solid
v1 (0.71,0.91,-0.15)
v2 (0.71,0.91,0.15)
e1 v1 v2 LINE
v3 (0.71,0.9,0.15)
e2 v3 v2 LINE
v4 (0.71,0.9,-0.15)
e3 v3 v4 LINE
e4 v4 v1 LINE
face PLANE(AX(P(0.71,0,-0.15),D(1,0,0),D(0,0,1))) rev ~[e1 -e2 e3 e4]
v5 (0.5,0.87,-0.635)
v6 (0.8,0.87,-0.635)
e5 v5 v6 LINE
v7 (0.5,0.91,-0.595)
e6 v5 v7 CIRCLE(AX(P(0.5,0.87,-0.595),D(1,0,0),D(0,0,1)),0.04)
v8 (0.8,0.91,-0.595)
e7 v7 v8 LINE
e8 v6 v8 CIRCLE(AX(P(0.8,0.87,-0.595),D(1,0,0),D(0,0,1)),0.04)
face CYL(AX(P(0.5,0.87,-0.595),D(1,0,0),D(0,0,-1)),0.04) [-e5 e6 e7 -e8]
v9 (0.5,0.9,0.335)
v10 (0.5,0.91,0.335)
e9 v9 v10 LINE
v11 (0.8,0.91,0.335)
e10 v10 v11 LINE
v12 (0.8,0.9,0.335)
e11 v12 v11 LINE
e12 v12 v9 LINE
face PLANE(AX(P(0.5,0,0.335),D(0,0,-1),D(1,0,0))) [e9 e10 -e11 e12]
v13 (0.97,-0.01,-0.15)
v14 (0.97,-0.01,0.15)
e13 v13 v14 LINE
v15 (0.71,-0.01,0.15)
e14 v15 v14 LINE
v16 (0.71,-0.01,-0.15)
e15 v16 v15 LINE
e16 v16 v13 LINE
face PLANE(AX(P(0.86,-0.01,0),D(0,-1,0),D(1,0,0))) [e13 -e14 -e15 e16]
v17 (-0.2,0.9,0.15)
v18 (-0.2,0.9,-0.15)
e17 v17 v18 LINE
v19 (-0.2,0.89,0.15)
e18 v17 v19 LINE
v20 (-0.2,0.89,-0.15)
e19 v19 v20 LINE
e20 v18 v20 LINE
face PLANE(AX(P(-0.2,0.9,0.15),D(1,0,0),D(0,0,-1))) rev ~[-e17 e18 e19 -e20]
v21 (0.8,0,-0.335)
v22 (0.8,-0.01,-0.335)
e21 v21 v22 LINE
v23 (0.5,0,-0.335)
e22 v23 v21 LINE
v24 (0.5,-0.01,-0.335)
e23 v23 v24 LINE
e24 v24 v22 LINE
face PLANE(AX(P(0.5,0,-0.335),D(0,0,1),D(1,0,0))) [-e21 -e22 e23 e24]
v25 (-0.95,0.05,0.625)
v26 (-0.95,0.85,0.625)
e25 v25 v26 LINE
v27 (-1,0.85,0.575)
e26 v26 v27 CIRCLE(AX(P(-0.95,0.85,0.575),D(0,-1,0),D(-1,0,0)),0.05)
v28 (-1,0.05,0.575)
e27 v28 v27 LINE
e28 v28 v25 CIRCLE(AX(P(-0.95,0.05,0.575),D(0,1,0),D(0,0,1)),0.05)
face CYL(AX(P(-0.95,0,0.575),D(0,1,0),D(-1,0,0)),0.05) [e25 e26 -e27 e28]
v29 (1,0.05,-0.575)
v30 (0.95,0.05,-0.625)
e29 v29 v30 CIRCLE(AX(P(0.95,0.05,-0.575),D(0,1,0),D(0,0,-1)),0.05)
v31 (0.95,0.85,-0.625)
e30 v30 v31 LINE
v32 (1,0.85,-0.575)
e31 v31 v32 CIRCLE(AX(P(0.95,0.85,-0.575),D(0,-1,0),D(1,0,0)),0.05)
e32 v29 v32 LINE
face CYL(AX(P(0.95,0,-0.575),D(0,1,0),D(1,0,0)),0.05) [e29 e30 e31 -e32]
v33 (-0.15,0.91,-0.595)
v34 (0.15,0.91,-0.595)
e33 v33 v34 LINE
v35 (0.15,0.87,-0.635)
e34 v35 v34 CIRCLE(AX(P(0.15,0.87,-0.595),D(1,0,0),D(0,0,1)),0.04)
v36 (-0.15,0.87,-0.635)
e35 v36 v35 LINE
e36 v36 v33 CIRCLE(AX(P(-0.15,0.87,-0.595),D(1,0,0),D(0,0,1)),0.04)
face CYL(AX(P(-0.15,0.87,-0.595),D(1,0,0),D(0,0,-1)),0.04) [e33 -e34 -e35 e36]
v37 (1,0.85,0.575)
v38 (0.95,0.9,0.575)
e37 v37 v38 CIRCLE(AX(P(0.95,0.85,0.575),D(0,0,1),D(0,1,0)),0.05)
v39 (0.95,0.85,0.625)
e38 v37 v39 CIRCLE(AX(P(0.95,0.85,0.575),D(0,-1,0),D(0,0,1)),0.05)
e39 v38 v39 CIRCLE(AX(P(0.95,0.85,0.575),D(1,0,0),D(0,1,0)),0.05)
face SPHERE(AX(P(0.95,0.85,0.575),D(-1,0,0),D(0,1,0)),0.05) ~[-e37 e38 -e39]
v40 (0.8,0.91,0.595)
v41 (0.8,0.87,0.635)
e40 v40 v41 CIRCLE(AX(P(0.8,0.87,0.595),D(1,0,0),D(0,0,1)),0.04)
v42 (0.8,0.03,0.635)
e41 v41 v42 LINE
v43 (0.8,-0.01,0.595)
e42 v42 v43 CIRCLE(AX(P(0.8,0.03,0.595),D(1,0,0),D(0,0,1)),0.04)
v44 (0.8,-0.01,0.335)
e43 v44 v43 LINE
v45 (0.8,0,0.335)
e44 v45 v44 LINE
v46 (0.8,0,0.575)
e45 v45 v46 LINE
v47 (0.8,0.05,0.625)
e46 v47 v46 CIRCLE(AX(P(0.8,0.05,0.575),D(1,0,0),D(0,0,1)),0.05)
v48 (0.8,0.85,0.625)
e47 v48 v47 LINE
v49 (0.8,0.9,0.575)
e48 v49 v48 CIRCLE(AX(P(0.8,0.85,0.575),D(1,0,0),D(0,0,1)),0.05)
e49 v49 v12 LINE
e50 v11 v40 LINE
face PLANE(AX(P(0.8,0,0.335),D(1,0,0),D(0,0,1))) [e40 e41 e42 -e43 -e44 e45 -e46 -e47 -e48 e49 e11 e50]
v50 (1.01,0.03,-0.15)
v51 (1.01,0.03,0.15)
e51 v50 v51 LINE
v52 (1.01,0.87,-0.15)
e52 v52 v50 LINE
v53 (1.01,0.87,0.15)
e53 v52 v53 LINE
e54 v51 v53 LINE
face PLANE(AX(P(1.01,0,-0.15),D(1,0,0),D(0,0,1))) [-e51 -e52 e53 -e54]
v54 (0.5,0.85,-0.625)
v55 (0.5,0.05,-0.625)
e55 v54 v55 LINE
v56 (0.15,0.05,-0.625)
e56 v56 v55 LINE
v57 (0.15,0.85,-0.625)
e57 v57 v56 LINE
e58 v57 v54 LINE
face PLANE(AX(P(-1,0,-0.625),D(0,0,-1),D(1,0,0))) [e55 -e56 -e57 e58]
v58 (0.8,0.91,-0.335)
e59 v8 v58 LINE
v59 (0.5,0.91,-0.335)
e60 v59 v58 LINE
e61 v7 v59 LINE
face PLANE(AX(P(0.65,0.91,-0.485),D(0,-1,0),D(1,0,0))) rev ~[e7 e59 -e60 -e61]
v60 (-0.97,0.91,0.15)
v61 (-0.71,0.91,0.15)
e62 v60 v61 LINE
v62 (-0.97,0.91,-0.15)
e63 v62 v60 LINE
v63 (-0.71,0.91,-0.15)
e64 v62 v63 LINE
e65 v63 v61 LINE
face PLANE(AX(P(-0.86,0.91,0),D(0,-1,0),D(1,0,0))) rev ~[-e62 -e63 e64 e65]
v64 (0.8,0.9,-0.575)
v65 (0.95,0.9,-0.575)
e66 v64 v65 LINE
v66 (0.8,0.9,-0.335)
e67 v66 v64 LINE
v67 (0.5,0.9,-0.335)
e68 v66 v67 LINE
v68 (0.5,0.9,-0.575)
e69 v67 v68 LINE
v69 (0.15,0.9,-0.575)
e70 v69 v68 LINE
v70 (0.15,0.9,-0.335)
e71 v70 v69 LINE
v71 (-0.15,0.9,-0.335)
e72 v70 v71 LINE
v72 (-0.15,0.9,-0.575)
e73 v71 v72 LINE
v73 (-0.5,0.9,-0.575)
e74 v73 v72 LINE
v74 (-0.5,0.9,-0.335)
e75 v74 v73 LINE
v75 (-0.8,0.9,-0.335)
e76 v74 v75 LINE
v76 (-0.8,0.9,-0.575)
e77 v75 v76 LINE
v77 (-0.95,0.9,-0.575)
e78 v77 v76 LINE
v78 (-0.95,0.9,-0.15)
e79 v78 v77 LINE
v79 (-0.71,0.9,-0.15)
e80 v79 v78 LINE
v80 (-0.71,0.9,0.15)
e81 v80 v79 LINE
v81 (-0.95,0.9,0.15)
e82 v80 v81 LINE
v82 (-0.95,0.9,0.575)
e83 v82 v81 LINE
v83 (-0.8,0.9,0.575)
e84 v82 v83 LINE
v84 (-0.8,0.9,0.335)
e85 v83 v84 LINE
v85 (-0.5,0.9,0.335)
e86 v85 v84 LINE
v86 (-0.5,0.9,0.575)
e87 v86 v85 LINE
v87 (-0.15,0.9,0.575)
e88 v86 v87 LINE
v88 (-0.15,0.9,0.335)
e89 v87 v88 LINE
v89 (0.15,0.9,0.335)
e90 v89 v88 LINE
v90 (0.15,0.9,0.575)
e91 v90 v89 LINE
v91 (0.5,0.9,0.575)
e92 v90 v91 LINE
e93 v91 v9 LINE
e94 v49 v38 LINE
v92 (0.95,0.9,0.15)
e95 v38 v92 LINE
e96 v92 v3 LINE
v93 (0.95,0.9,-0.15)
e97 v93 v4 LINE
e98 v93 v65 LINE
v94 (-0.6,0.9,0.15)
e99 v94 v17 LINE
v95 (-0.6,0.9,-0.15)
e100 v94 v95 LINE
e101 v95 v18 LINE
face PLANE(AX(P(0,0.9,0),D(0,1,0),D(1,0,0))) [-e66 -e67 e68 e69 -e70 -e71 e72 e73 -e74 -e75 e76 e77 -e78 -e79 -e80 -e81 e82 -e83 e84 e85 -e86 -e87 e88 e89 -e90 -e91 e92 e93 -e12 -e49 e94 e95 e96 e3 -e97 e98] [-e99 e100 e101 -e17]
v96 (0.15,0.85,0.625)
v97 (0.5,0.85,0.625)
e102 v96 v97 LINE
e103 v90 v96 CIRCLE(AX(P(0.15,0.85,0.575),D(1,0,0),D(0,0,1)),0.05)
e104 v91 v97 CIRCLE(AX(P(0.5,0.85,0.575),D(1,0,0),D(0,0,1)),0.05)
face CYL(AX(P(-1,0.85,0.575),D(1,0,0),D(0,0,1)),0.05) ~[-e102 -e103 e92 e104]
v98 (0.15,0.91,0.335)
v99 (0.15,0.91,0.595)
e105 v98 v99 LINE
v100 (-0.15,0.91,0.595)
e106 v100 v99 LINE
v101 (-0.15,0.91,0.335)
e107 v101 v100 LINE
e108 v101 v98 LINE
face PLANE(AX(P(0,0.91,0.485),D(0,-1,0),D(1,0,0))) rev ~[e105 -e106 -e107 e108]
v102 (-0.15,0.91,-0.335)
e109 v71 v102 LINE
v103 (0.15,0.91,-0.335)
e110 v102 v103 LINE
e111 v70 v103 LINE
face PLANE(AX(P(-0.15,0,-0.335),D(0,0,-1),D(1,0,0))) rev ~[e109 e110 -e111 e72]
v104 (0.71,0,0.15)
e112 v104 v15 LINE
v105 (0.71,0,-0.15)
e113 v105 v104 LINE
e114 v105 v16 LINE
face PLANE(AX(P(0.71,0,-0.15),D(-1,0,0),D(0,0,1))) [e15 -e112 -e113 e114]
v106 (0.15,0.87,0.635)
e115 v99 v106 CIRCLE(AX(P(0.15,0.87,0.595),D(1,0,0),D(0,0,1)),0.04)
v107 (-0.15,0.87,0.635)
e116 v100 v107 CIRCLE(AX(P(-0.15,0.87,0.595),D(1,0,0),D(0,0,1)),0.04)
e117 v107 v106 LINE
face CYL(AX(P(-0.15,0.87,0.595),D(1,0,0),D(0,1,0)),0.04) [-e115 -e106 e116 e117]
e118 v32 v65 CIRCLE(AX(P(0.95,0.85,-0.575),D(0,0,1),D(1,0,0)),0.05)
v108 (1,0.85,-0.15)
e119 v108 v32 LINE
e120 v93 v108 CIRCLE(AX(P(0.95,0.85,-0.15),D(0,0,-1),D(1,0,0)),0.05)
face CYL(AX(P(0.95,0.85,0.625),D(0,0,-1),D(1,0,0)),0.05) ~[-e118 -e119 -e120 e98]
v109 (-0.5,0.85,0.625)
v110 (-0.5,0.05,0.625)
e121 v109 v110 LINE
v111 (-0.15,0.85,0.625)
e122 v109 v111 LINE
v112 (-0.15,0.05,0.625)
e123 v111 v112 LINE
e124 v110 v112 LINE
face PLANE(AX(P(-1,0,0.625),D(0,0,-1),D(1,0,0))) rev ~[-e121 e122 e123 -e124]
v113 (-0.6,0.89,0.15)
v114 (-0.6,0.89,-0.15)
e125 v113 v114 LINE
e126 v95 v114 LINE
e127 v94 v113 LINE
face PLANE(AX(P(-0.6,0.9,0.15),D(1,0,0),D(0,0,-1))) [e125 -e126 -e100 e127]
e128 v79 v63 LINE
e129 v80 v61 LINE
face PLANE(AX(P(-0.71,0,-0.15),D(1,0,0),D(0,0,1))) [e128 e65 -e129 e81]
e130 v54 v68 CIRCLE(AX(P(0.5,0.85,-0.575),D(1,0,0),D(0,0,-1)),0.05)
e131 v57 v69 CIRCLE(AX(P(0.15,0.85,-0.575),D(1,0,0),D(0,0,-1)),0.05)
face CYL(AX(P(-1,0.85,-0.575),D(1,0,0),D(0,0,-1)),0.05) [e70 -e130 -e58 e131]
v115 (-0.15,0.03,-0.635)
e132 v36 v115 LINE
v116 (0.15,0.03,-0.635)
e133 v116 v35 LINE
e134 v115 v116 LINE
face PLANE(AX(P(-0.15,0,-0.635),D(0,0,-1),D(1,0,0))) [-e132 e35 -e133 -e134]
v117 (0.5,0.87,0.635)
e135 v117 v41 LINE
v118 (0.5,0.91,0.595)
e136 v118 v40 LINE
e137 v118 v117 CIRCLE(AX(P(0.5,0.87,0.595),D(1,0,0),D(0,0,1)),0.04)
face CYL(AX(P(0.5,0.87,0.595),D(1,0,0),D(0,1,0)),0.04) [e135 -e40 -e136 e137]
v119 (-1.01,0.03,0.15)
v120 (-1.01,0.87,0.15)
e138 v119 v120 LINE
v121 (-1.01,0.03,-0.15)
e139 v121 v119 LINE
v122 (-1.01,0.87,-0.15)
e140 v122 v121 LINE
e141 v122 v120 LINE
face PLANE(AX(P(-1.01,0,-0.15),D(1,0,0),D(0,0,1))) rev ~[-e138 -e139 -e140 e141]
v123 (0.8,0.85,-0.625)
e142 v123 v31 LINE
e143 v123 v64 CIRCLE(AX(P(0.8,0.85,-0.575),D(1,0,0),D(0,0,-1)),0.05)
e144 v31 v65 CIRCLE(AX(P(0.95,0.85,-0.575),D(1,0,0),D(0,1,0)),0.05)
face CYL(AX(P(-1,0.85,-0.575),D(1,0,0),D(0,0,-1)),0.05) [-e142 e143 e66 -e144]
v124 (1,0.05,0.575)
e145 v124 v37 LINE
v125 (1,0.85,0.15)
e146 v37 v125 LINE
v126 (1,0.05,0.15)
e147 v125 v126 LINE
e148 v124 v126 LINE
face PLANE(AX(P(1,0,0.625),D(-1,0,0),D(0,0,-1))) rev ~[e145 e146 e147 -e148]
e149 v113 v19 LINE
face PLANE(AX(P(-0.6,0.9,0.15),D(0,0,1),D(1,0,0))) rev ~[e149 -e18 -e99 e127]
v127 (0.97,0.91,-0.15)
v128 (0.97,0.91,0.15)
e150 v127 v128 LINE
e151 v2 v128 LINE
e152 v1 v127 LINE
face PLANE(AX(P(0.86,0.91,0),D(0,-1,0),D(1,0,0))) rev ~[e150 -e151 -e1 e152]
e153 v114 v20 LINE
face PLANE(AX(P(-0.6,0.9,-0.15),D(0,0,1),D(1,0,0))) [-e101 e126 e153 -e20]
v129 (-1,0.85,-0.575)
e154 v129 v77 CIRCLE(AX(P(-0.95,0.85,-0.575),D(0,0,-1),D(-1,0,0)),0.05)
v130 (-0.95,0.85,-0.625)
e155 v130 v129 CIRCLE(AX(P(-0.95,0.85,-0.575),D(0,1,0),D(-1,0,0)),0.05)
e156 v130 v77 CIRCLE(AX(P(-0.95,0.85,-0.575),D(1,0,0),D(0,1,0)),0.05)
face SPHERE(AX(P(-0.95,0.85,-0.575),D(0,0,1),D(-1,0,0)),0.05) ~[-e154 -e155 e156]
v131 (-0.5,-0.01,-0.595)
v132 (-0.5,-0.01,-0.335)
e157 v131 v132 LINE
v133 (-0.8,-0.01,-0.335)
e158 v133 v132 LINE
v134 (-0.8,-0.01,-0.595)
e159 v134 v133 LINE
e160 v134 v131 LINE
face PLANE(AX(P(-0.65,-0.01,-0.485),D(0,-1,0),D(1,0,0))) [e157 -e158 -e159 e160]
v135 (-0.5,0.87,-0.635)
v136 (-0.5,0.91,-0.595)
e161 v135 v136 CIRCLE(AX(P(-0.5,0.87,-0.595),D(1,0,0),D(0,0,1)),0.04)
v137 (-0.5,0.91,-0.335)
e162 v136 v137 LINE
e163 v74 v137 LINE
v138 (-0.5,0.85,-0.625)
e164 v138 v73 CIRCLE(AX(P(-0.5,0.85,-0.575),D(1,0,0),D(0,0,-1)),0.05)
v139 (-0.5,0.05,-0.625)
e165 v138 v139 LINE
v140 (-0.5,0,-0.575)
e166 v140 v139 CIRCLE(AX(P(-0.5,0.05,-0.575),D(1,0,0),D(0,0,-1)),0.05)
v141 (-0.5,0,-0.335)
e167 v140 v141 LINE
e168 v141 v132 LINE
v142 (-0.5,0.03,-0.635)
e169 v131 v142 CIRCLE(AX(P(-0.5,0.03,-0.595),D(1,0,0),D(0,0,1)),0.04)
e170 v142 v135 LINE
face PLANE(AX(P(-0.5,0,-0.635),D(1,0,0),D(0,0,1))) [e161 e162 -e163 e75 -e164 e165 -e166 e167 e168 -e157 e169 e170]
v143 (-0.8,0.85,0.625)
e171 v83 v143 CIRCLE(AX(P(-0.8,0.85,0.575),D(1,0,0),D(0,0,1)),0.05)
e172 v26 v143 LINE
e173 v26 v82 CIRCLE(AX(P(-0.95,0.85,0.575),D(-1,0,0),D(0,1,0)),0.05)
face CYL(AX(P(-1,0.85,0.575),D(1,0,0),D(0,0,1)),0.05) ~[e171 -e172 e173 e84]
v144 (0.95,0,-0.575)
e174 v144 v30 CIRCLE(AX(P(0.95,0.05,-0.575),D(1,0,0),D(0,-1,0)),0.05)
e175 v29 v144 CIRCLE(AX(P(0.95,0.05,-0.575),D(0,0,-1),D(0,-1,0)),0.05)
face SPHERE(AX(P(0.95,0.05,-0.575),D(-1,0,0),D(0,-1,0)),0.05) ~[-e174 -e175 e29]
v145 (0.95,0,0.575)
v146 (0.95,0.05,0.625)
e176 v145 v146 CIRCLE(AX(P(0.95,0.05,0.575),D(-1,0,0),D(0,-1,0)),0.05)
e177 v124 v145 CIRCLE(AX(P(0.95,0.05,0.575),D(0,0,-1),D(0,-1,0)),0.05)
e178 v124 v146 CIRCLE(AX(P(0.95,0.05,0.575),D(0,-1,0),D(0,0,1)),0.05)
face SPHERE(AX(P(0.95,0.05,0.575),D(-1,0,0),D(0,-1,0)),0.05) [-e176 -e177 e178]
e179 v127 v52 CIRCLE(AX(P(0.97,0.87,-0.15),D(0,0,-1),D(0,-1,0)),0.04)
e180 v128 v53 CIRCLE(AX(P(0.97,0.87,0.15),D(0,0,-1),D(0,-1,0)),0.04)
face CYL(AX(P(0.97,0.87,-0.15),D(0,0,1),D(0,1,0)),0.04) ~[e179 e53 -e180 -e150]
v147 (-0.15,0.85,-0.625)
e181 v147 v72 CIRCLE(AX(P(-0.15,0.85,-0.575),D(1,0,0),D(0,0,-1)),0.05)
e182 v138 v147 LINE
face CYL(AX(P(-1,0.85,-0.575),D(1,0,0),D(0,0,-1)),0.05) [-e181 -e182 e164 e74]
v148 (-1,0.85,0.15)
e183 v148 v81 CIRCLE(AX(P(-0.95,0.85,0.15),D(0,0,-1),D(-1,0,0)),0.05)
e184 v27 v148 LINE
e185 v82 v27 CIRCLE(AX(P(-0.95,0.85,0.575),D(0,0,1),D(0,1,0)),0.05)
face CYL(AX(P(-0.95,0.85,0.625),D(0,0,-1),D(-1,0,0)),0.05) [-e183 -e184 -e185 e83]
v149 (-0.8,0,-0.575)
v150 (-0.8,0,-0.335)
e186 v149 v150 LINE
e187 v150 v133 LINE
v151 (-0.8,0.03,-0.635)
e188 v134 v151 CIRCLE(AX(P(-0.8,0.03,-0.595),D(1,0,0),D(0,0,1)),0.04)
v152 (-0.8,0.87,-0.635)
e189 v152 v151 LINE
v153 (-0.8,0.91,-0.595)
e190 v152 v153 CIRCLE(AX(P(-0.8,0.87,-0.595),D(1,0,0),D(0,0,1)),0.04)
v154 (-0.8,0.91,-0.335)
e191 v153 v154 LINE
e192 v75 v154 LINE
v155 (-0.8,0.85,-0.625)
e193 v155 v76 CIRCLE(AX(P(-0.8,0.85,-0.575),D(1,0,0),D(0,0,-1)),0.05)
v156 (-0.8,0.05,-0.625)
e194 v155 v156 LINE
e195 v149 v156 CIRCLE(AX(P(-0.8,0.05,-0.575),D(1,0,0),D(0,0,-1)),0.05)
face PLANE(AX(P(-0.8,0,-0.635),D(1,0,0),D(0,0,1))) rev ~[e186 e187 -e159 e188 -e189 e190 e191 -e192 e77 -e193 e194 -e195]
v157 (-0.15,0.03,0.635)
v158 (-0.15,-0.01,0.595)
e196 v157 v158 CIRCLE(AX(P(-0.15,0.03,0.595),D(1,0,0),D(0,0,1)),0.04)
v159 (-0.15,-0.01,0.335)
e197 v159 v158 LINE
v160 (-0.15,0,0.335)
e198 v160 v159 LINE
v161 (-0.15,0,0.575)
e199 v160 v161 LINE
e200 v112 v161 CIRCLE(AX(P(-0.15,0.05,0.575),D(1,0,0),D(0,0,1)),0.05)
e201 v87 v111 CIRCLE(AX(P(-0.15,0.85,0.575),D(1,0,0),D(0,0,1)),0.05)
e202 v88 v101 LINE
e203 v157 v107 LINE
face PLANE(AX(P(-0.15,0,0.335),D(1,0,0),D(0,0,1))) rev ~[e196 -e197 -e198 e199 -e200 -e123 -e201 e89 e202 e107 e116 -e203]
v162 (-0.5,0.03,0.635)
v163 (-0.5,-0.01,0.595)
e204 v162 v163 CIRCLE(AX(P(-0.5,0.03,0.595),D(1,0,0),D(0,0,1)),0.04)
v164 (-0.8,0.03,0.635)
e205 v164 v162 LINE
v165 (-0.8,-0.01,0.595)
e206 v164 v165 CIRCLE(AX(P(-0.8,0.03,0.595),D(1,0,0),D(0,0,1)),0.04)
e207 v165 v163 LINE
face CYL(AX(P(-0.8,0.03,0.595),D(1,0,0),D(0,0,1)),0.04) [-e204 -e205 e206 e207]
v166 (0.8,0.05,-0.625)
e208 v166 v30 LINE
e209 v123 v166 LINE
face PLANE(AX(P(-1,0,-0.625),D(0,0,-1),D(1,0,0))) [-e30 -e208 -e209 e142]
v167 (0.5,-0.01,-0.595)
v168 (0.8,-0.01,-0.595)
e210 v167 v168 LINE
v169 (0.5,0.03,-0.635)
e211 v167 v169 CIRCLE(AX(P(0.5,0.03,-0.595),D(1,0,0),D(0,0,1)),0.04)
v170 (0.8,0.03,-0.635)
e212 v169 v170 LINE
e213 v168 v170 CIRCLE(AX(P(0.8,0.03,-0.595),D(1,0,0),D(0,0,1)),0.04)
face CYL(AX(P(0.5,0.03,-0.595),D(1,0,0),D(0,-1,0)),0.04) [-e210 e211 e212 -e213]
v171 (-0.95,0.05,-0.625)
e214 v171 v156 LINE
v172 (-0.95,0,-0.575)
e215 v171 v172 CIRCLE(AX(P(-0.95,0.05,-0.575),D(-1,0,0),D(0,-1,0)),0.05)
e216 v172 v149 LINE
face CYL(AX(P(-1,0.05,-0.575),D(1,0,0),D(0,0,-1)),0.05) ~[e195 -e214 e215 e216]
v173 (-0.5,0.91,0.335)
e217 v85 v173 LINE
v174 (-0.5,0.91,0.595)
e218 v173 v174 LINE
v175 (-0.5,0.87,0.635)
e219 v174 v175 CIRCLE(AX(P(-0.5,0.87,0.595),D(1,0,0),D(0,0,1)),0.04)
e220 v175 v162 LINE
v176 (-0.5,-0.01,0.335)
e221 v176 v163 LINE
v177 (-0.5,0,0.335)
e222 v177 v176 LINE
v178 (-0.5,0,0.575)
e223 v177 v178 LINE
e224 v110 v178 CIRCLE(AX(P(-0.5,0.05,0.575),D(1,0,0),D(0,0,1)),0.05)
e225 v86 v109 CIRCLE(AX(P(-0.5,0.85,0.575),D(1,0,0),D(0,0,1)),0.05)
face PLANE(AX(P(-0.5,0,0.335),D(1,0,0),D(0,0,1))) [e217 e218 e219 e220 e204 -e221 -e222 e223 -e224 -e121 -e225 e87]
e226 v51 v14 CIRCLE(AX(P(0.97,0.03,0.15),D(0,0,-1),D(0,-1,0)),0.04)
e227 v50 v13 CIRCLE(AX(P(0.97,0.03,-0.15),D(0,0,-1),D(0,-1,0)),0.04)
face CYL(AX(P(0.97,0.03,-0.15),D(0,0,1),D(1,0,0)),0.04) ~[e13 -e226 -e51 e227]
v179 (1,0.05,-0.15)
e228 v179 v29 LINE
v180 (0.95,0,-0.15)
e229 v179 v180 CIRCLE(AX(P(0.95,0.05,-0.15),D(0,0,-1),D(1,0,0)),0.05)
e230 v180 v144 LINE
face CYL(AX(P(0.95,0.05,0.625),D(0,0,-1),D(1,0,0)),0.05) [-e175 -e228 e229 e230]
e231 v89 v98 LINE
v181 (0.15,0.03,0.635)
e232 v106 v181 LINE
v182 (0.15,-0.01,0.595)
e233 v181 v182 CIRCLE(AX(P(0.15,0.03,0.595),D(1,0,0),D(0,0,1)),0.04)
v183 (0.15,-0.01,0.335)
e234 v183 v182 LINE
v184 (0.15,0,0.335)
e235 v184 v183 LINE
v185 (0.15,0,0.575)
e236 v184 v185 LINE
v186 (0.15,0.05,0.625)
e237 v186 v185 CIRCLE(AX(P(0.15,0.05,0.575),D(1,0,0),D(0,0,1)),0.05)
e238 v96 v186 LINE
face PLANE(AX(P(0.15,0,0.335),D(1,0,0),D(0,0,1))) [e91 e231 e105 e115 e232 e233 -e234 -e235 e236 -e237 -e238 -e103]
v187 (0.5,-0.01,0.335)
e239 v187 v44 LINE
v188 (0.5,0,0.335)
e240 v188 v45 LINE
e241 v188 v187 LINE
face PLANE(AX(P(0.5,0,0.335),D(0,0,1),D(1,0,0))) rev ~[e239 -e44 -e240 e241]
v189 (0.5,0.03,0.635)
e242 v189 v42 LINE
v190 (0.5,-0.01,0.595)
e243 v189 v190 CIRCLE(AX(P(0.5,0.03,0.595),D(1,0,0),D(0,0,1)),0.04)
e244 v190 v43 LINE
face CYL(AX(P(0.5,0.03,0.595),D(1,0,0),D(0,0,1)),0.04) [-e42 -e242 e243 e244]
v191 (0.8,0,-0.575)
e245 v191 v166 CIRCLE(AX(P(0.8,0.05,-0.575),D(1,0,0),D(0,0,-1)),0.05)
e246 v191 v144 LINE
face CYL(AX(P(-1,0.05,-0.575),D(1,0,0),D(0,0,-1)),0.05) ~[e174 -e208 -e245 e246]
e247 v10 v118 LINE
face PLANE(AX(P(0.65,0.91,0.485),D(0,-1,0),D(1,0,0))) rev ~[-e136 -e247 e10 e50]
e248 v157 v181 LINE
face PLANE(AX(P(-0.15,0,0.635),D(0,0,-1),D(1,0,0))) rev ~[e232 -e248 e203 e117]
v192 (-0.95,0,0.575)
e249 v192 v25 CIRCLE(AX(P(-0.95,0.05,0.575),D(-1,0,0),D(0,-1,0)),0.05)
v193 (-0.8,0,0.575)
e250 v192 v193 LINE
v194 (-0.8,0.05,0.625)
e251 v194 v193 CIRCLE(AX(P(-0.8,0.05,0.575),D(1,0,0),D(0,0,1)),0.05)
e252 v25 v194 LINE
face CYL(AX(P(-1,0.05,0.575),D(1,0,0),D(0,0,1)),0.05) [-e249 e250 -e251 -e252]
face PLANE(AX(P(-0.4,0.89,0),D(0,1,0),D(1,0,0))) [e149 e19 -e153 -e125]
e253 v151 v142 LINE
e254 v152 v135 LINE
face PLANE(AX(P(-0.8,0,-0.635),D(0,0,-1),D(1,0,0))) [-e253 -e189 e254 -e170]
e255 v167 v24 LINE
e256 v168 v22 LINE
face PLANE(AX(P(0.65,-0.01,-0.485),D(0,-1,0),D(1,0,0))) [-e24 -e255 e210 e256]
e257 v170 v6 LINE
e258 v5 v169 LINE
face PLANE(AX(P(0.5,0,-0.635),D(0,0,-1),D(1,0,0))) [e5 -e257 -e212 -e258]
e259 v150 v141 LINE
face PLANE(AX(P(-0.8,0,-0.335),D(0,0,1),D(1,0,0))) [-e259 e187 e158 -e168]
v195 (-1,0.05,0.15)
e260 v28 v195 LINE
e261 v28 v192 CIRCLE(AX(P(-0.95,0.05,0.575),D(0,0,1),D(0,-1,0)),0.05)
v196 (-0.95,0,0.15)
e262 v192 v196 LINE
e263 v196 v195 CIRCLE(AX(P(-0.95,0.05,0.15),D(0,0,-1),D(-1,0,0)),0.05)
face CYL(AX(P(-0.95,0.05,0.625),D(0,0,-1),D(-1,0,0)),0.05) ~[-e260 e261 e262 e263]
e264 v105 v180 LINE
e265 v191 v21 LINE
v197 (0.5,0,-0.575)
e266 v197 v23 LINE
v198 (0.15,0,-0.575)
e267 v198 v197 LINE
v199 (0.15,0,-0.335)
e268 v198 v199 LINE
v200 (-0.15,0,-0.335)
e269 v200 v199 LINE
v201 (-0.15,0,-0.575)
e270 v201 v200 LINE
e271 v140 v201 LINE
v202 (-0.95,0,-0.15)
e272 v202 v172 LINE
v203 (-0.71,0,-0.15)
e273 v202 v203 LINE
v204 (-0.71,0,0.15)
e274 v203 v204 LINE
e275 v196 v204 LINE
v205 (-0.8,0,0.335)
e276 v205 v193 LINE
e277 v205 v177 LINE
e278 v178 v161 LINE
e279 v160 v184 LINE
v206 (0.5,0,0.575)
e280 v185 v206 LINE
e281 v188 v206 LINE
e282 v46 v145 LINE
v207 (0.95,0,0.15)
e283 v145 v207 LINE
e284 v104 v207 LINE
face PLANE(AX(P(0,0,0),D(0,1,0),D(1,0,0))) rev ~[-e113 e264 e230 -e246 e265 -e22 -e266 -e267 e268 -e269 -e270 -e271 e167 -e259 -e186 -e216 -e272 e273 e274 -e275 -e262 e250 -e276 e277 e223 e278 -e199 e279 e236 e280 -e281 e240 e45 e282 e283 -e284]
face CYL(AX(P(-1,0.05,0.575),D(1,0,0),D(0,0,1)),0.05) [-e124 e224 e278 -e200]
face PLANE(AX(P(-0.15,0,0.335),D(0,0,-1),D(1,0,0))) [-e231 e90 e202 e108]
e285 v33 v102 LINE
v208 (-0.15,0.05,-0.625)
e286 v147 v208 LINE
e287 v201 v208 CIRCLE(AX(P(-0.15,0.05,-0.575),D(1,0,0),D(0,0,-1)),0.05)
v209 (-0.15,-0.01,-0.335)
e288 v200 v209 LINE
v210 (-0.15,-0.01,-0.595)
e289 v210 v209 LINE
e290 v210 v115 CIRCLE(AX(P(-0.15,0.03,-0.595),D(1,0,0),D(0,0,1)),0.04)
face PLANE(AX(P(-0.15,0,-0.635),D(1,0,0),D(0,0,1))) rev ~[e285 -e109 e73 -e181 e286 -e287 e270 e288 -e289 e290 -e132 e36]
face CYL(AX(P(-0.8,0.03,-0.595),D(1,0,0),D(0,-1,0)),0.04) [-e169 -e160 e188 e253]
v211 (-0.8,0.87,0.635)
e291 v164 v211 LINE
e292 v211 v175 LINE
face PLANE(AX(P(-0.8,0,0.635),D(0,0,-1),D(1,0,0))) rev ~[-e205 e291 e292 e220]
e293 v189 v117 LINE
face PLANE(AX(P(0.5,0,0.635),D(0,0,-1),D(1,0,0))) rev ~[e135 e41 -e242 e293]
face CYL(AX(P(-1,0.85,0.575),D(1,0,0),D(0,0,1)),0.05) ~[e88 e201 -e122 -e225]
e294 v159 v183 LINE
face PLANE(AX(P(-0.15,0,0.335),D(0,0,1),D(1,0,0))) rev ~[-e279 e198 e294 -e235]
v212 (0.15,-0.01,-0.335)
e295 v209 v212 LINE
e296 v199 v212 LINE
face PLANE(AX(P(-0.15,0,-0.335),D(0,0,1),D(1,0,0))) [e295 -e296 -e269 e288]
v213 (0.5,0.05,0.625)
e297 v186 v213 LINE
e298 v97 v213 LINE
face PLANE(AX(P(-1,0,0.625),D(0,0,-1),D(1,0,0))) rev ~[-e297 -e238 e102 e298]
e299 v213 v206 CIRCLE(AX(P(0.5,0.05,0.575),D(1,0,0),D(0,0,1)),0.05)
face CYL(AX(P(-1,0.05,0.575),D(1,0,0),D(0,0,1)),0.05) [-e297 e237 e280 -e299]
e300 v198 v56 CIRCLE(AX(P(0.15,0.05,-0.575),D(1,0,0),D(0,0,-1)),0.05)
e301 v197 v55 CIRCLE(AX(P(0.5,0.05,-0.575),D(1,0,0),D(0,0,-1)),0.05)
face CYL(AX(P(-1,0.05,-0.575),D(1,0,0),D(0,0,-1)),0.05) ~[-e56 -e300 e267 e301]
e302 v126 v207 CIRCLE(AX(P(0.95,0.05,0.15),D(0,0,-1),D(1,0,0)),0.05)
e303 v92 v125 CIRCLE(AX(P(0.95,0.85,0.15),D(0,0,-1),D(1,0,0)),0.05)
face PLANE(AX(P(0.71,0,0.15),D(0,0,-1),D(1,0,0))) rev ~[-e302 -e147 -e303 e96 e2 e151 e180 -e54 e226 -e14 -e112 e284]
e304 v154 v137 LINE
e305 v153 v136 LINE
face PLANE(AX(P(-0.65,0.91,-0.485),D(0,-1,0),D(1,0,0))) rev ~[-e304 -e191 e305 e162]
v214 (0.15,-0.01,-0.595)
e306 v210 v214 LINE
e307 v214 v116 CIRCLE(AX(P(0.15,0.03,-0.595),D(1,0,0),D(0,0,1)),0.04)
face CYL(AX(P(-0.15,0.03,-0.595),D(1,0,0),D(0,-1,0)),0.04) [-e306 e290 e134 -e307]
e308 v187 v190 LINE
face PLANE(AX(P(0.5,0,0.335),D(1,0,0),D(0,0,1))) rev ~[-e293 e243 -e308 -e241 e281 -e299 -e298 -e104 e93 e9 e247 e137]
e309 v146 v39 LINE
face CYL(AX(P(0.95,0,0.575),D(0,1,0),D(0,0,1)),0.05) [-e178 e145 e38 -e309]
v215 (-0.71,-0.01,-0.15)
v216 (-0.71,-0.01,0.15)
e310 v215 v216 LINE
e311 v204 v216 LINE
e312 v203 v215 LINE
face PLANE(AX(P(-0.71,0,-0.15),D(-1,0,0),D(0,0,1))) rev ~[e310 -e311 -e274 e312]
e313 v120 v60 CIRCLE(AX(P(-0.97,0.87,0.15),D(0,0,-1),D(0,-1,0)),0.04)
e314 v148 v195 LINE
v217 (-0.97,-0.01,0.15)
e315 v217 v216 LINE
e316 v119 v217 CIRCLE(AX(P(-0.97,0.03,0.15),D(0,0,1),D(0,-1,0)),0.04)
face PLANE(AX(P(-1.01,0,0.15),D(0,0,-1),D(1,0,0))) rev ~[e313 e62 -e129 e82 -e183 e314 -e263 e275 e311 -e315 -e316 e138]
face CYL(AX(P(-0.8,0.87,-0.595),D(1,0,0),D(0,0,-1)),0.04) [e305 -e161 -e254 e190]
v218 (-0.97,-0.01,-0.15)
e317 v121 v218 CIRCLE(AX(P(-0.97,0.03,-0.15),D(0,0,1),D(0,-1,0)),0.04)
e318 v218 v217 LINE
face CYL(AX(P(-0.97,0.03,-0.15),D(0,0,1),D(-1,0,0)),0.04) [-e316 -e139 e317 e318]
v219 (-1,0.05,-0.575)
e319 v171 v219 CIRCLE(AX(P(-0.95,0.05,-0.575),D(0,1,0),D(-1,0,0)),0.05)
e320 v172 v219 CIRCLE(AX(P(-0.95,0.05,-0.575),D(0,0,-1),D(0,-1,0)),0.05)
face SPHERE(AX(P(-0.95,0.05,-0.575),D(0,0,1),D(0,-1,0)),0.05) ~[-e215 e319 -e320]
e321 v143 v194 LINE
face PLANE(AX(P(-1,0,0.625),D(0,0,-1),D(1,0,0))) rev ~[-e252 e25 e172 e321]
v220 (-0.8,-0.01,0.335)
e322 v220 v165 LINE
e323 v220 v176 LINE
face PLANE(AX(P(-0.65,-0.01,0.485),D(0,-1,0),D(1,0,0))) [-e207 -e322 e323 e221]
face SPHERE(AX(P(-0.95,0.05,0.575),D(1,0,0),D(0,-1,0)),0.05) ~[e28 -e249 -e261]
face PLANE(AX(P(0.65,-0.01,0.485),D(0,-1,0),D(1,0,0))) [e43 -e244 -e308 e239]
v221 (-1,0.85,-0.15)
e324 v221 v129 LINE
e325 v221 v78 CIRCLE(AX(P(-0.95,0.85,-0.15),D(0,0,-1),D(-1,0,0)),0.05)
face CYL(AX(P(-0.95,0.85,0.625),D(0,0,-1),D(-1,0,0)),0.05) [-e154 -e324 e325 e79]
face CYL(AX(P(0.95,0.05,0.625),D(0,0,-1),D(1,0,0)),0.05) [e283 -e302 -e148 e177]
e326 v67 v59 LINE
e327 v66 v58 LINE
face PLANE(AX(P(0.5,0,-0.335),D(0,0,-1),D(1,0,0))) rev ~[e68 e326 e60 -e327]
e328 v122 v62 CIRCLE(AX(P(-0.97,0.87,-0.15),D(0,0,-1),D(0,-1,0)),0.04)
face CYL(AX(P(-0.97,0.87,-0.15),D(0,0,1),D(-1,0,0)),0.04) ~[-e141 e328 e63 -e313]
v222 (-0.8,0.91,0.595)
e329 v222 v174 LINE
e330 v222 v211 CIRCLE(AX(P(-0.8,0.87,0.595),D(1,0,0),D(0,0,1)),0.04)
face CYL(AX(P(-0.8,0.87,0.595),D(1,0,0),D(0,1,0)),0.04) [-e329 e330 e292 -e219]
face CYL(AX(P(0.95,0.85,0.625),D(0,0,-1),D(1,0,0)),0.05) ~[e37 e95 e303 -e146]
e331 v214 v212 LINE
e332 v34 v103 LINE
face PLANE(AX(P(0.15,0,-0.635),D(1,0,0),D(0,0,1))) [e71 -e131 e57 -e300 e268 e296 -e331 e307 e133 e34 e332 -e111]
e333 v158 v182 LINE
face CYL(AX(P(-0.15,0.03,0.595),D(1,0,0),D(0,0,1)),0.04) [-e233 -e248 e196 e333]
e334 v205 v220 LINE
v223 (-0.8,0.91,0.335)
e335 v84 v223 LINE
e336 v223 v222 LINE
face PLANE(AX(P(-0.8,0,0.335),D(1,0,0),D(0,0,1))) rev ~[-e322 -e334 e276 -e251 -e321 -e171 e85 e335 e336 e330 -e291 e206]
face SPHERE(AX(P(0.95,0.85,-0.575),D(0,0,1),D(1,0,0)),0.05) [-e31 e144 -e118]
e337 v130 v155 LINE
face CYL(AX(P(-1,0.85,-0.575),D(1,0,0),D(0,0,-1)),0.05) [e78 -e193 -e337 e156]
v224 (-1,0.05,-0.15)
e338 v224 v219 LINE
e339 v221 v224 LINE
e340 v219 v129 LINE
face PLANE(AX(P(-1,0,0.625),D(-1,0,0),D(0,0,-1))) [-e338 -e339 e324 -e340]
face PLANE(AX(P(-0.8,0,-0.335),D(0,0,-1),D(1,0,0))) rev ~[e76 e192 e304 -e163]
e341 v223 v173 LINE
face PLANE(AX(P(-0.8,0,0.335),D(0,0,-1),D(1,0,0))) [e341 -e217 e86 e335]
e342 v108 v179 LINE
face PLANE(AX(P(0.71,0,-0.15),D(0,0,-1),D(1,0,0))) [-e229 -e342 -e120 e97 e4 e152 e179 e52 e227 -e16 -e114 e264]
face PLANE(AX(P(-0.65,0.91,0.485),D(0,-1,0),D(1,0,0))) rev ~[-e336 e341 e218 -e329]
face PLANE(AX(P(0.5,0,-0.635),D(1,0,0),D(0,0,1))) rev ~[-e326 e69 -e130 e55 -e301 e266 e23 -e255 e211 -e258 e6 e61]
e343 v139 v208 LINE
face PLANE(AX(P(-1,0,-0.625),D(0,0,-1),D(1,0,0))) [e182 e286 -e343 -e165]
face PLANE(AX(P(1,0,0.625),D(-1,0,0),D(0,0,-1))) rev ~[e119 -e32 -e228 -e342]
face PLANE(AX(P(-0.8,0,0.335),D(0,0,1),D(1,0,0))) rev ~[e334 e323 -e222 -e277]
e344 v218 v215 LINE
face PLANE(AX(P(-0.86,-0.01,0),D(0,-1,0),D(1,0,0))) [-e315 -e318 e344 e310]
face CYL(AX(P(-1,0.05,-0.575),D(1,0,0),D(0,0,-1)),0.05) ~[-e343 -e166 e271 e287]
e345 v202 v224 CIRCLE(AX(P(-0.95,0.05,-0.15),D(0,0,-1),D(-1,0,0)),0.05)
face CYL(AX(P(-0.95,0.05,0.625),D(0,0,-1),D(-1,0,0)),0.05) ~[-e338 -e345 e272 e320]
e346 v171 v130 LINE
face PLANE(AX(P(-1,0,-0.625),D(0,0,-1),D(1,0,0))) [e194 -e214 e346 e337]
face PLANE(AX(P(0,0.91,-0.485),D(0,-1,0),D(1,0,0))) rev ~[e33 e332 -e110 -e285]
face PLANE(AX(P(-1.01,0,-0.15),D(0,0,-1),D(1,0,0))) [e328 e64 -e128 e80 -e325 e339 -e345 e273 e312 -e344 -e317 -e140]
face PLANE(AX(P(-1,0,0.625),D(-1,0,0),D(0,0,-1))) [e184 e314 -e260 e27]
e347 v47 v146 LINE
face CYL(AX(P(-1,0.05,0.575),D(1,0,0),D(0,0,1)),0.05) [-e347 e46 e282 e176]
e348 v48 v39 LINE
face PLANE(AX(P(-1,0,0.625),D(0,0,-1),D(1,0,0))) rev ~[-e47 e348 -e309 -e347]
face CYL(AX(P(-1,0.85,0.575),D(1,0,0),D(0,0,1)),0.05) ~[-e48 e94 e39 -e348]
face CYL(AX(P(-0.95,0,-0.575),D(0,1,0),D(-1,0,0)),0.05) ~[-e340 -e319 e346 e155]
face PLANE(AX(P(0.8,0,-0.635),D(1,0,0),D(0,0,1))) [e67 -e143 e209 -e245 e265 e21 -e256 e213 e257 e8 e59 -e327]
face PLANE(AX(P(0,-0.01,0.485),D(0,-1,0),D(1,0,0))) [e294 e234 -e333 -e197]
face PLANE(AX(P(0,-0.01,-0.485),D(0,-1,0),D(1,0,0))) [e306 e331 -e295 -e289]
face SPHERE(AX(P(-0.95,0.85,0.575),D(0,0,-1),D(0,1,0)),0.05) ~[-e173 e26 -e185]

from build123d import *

# Parameters (mm, degrees)
SKETCH1_W           = 2
SKETCH1_H           = 1.25
BOSS_EXTRUDE1_DEPTH = 0.9
FILLET1_R           = 0.05
SKETCH2_W           = 0.3
SKETCH2_H           = 0.3
BOSS_EXTRUDE2_DEPTH = 0.01
SKETCH4_W           = 0.3
SKETCH4_H           = 0.3
BOSS_EXTRUDE3_DEPTH = 0.91
SKETCH3_W           = 0.4
SKETCH3_H           = 0.3
CUT_EXTRUDE1_DEPTH  = 0.01
FILLET2_R           = 0.04


with BuildPart() as part:
    # Sketch1 → Boss-Extrude1 (new body)
    with BuildSketch(Plane(origin=(0, 0, 0), x_dir=(1, 0, 0), z_dir=(0, 1, 0))):
        Rectangle(SKETCH1_W, SKETCH1_H)
    extrude(amount=BOSS_EXTRUDE1_DEPTH)

    # Fillet1
    fillet1_edges = [part.edges().sort_by_distance(p)[0] for p in [
        (-1, 0.9, 0),
        (0, 0.9, 0.625),
        (1, 0.9, 0),
        (0, 0, 0.625),
        (-1, 0, 0),
        (0, 0, -0.625),
        (1, 0, 0),
        (1, 0.45, 0.625),
        (-1, 0.45, 0.625),
        (-1, 0.45, -0.625),
        (1, 0.45, -0.625),
        (0, 0.9, -0.625),
    ]]
    fillet(fillet1_edges, radius=FILLET1_R)

    # Sketch2 → Boss-Extrude2 (add)
    with BuildSketch(Plane.XZ):
        with Locations((-0.86, 0)):
            Rectangle(SKETCH2_W, SKETCH2_H)
        with Locations((0.86, 0)):
            Rectangle(SKETCH2_W, SKETCH2_H)
        with Locations((-0.65, 0.485)):
            Rectangle(SKETCH2_W, SKETCH2_H)
        with Locations((0, 0.485)):
            Rectangle(SKETCH2_W, SKETCH2_H)
        with Locations((0.65, 0.485)):
            Rectangle(SKETCH2_W, SKETCH2_H)
        with Locations((0.65, -0.485)):
            Rectangle(SKETCH2_W, SKETCH2_H)
        with Locations((0, -0.485)):
            Rectangle(SKETCH2_W, SKETCH2_H)
        with Locations((-0.65, -0.485)):
            Rectangle(SKETCH2_W, SKETCH2_H)
    extrude(amount=BOSS_EXTRUDE2_DEPTH)

    # Sketch4 → Boss-Extrude3 (add)
    with BuildSketch(Plane.XZ):
        with Locations((-0.86, 0)):
            Rectangle(SKETCH4_W, SKETCH4_H)
        with Locations((0, 0.485)):
            Rectangle(SKETCH4_W, SKETCH4_H)
        with Locations((-0.65, 0.485)):
            Rectangle(SKETCH4_W, SKETCH4_H)
        with Locations((0.86, 0)):
            Rectangle(SKETCH4_W, SKETCH4_H)
        with Locations((-0.65, -0.485)):
            Rectangle(SKETCH4_W, SKETCH4_H)
        with Locations((0, -0.485)):
            Rectangle(SKETCH4_W, SKETCH4_H)
        with Locations((0.65, -0.485)):
            Rectangle(SKETCH4_W, SKETCH4_H)
        with Locations((0.65, 0.485)):
            Rectangle(SKETCH4_W, SKETCH4_H)
    extrude(amount=-BOSS_EXTRUDE3_DEPTH)

    # Sketch3 → Cut-Extrude1 (cut)
    with BuildSketch(Plane(origin=(0, 0.9, 0), x_dir=(1, 0, 0), z_dir=(0, 1, 0))):
        with Locations((-0.4, 0)):
            Rectangle(SKETCH3_W, SKETCH3_H)
    extrude(amount=-CUT_EXTRUDE1_DEPTH, mode=Mode.SUBTRACT)

    # Fillet2
    fillet2_edges = [part.edges().sort_by_distance(p)[0] for p in [
        (0.65, -0.01, 0.635),
        (0.65, -0.01, -0.635),
        (0, -0.01, -0.635),
        (-0.65, -0.01, -0.635),
        (-1.01, 0.91, 0),
        (0, 0.91, 0.635),
        (-0.65, 0.91, 0.635),
        (1.01, 0.91, 0),
        (-0.65, 0.91, -0.635),
        (0, 0.91, -0.635),
        (0.65, 0.91, -0.635),
        (0.65, 0.91, 0.635),
        (-1.01, -0.01, 0),
        (1.01, -0.01, 0),
        (-0.65, -0.01, 0.635),
        (0, -0.01, 0.635),
    ]]
    fillet(fillet2_edges, radius=FILLET2_R)


solid = part.part
